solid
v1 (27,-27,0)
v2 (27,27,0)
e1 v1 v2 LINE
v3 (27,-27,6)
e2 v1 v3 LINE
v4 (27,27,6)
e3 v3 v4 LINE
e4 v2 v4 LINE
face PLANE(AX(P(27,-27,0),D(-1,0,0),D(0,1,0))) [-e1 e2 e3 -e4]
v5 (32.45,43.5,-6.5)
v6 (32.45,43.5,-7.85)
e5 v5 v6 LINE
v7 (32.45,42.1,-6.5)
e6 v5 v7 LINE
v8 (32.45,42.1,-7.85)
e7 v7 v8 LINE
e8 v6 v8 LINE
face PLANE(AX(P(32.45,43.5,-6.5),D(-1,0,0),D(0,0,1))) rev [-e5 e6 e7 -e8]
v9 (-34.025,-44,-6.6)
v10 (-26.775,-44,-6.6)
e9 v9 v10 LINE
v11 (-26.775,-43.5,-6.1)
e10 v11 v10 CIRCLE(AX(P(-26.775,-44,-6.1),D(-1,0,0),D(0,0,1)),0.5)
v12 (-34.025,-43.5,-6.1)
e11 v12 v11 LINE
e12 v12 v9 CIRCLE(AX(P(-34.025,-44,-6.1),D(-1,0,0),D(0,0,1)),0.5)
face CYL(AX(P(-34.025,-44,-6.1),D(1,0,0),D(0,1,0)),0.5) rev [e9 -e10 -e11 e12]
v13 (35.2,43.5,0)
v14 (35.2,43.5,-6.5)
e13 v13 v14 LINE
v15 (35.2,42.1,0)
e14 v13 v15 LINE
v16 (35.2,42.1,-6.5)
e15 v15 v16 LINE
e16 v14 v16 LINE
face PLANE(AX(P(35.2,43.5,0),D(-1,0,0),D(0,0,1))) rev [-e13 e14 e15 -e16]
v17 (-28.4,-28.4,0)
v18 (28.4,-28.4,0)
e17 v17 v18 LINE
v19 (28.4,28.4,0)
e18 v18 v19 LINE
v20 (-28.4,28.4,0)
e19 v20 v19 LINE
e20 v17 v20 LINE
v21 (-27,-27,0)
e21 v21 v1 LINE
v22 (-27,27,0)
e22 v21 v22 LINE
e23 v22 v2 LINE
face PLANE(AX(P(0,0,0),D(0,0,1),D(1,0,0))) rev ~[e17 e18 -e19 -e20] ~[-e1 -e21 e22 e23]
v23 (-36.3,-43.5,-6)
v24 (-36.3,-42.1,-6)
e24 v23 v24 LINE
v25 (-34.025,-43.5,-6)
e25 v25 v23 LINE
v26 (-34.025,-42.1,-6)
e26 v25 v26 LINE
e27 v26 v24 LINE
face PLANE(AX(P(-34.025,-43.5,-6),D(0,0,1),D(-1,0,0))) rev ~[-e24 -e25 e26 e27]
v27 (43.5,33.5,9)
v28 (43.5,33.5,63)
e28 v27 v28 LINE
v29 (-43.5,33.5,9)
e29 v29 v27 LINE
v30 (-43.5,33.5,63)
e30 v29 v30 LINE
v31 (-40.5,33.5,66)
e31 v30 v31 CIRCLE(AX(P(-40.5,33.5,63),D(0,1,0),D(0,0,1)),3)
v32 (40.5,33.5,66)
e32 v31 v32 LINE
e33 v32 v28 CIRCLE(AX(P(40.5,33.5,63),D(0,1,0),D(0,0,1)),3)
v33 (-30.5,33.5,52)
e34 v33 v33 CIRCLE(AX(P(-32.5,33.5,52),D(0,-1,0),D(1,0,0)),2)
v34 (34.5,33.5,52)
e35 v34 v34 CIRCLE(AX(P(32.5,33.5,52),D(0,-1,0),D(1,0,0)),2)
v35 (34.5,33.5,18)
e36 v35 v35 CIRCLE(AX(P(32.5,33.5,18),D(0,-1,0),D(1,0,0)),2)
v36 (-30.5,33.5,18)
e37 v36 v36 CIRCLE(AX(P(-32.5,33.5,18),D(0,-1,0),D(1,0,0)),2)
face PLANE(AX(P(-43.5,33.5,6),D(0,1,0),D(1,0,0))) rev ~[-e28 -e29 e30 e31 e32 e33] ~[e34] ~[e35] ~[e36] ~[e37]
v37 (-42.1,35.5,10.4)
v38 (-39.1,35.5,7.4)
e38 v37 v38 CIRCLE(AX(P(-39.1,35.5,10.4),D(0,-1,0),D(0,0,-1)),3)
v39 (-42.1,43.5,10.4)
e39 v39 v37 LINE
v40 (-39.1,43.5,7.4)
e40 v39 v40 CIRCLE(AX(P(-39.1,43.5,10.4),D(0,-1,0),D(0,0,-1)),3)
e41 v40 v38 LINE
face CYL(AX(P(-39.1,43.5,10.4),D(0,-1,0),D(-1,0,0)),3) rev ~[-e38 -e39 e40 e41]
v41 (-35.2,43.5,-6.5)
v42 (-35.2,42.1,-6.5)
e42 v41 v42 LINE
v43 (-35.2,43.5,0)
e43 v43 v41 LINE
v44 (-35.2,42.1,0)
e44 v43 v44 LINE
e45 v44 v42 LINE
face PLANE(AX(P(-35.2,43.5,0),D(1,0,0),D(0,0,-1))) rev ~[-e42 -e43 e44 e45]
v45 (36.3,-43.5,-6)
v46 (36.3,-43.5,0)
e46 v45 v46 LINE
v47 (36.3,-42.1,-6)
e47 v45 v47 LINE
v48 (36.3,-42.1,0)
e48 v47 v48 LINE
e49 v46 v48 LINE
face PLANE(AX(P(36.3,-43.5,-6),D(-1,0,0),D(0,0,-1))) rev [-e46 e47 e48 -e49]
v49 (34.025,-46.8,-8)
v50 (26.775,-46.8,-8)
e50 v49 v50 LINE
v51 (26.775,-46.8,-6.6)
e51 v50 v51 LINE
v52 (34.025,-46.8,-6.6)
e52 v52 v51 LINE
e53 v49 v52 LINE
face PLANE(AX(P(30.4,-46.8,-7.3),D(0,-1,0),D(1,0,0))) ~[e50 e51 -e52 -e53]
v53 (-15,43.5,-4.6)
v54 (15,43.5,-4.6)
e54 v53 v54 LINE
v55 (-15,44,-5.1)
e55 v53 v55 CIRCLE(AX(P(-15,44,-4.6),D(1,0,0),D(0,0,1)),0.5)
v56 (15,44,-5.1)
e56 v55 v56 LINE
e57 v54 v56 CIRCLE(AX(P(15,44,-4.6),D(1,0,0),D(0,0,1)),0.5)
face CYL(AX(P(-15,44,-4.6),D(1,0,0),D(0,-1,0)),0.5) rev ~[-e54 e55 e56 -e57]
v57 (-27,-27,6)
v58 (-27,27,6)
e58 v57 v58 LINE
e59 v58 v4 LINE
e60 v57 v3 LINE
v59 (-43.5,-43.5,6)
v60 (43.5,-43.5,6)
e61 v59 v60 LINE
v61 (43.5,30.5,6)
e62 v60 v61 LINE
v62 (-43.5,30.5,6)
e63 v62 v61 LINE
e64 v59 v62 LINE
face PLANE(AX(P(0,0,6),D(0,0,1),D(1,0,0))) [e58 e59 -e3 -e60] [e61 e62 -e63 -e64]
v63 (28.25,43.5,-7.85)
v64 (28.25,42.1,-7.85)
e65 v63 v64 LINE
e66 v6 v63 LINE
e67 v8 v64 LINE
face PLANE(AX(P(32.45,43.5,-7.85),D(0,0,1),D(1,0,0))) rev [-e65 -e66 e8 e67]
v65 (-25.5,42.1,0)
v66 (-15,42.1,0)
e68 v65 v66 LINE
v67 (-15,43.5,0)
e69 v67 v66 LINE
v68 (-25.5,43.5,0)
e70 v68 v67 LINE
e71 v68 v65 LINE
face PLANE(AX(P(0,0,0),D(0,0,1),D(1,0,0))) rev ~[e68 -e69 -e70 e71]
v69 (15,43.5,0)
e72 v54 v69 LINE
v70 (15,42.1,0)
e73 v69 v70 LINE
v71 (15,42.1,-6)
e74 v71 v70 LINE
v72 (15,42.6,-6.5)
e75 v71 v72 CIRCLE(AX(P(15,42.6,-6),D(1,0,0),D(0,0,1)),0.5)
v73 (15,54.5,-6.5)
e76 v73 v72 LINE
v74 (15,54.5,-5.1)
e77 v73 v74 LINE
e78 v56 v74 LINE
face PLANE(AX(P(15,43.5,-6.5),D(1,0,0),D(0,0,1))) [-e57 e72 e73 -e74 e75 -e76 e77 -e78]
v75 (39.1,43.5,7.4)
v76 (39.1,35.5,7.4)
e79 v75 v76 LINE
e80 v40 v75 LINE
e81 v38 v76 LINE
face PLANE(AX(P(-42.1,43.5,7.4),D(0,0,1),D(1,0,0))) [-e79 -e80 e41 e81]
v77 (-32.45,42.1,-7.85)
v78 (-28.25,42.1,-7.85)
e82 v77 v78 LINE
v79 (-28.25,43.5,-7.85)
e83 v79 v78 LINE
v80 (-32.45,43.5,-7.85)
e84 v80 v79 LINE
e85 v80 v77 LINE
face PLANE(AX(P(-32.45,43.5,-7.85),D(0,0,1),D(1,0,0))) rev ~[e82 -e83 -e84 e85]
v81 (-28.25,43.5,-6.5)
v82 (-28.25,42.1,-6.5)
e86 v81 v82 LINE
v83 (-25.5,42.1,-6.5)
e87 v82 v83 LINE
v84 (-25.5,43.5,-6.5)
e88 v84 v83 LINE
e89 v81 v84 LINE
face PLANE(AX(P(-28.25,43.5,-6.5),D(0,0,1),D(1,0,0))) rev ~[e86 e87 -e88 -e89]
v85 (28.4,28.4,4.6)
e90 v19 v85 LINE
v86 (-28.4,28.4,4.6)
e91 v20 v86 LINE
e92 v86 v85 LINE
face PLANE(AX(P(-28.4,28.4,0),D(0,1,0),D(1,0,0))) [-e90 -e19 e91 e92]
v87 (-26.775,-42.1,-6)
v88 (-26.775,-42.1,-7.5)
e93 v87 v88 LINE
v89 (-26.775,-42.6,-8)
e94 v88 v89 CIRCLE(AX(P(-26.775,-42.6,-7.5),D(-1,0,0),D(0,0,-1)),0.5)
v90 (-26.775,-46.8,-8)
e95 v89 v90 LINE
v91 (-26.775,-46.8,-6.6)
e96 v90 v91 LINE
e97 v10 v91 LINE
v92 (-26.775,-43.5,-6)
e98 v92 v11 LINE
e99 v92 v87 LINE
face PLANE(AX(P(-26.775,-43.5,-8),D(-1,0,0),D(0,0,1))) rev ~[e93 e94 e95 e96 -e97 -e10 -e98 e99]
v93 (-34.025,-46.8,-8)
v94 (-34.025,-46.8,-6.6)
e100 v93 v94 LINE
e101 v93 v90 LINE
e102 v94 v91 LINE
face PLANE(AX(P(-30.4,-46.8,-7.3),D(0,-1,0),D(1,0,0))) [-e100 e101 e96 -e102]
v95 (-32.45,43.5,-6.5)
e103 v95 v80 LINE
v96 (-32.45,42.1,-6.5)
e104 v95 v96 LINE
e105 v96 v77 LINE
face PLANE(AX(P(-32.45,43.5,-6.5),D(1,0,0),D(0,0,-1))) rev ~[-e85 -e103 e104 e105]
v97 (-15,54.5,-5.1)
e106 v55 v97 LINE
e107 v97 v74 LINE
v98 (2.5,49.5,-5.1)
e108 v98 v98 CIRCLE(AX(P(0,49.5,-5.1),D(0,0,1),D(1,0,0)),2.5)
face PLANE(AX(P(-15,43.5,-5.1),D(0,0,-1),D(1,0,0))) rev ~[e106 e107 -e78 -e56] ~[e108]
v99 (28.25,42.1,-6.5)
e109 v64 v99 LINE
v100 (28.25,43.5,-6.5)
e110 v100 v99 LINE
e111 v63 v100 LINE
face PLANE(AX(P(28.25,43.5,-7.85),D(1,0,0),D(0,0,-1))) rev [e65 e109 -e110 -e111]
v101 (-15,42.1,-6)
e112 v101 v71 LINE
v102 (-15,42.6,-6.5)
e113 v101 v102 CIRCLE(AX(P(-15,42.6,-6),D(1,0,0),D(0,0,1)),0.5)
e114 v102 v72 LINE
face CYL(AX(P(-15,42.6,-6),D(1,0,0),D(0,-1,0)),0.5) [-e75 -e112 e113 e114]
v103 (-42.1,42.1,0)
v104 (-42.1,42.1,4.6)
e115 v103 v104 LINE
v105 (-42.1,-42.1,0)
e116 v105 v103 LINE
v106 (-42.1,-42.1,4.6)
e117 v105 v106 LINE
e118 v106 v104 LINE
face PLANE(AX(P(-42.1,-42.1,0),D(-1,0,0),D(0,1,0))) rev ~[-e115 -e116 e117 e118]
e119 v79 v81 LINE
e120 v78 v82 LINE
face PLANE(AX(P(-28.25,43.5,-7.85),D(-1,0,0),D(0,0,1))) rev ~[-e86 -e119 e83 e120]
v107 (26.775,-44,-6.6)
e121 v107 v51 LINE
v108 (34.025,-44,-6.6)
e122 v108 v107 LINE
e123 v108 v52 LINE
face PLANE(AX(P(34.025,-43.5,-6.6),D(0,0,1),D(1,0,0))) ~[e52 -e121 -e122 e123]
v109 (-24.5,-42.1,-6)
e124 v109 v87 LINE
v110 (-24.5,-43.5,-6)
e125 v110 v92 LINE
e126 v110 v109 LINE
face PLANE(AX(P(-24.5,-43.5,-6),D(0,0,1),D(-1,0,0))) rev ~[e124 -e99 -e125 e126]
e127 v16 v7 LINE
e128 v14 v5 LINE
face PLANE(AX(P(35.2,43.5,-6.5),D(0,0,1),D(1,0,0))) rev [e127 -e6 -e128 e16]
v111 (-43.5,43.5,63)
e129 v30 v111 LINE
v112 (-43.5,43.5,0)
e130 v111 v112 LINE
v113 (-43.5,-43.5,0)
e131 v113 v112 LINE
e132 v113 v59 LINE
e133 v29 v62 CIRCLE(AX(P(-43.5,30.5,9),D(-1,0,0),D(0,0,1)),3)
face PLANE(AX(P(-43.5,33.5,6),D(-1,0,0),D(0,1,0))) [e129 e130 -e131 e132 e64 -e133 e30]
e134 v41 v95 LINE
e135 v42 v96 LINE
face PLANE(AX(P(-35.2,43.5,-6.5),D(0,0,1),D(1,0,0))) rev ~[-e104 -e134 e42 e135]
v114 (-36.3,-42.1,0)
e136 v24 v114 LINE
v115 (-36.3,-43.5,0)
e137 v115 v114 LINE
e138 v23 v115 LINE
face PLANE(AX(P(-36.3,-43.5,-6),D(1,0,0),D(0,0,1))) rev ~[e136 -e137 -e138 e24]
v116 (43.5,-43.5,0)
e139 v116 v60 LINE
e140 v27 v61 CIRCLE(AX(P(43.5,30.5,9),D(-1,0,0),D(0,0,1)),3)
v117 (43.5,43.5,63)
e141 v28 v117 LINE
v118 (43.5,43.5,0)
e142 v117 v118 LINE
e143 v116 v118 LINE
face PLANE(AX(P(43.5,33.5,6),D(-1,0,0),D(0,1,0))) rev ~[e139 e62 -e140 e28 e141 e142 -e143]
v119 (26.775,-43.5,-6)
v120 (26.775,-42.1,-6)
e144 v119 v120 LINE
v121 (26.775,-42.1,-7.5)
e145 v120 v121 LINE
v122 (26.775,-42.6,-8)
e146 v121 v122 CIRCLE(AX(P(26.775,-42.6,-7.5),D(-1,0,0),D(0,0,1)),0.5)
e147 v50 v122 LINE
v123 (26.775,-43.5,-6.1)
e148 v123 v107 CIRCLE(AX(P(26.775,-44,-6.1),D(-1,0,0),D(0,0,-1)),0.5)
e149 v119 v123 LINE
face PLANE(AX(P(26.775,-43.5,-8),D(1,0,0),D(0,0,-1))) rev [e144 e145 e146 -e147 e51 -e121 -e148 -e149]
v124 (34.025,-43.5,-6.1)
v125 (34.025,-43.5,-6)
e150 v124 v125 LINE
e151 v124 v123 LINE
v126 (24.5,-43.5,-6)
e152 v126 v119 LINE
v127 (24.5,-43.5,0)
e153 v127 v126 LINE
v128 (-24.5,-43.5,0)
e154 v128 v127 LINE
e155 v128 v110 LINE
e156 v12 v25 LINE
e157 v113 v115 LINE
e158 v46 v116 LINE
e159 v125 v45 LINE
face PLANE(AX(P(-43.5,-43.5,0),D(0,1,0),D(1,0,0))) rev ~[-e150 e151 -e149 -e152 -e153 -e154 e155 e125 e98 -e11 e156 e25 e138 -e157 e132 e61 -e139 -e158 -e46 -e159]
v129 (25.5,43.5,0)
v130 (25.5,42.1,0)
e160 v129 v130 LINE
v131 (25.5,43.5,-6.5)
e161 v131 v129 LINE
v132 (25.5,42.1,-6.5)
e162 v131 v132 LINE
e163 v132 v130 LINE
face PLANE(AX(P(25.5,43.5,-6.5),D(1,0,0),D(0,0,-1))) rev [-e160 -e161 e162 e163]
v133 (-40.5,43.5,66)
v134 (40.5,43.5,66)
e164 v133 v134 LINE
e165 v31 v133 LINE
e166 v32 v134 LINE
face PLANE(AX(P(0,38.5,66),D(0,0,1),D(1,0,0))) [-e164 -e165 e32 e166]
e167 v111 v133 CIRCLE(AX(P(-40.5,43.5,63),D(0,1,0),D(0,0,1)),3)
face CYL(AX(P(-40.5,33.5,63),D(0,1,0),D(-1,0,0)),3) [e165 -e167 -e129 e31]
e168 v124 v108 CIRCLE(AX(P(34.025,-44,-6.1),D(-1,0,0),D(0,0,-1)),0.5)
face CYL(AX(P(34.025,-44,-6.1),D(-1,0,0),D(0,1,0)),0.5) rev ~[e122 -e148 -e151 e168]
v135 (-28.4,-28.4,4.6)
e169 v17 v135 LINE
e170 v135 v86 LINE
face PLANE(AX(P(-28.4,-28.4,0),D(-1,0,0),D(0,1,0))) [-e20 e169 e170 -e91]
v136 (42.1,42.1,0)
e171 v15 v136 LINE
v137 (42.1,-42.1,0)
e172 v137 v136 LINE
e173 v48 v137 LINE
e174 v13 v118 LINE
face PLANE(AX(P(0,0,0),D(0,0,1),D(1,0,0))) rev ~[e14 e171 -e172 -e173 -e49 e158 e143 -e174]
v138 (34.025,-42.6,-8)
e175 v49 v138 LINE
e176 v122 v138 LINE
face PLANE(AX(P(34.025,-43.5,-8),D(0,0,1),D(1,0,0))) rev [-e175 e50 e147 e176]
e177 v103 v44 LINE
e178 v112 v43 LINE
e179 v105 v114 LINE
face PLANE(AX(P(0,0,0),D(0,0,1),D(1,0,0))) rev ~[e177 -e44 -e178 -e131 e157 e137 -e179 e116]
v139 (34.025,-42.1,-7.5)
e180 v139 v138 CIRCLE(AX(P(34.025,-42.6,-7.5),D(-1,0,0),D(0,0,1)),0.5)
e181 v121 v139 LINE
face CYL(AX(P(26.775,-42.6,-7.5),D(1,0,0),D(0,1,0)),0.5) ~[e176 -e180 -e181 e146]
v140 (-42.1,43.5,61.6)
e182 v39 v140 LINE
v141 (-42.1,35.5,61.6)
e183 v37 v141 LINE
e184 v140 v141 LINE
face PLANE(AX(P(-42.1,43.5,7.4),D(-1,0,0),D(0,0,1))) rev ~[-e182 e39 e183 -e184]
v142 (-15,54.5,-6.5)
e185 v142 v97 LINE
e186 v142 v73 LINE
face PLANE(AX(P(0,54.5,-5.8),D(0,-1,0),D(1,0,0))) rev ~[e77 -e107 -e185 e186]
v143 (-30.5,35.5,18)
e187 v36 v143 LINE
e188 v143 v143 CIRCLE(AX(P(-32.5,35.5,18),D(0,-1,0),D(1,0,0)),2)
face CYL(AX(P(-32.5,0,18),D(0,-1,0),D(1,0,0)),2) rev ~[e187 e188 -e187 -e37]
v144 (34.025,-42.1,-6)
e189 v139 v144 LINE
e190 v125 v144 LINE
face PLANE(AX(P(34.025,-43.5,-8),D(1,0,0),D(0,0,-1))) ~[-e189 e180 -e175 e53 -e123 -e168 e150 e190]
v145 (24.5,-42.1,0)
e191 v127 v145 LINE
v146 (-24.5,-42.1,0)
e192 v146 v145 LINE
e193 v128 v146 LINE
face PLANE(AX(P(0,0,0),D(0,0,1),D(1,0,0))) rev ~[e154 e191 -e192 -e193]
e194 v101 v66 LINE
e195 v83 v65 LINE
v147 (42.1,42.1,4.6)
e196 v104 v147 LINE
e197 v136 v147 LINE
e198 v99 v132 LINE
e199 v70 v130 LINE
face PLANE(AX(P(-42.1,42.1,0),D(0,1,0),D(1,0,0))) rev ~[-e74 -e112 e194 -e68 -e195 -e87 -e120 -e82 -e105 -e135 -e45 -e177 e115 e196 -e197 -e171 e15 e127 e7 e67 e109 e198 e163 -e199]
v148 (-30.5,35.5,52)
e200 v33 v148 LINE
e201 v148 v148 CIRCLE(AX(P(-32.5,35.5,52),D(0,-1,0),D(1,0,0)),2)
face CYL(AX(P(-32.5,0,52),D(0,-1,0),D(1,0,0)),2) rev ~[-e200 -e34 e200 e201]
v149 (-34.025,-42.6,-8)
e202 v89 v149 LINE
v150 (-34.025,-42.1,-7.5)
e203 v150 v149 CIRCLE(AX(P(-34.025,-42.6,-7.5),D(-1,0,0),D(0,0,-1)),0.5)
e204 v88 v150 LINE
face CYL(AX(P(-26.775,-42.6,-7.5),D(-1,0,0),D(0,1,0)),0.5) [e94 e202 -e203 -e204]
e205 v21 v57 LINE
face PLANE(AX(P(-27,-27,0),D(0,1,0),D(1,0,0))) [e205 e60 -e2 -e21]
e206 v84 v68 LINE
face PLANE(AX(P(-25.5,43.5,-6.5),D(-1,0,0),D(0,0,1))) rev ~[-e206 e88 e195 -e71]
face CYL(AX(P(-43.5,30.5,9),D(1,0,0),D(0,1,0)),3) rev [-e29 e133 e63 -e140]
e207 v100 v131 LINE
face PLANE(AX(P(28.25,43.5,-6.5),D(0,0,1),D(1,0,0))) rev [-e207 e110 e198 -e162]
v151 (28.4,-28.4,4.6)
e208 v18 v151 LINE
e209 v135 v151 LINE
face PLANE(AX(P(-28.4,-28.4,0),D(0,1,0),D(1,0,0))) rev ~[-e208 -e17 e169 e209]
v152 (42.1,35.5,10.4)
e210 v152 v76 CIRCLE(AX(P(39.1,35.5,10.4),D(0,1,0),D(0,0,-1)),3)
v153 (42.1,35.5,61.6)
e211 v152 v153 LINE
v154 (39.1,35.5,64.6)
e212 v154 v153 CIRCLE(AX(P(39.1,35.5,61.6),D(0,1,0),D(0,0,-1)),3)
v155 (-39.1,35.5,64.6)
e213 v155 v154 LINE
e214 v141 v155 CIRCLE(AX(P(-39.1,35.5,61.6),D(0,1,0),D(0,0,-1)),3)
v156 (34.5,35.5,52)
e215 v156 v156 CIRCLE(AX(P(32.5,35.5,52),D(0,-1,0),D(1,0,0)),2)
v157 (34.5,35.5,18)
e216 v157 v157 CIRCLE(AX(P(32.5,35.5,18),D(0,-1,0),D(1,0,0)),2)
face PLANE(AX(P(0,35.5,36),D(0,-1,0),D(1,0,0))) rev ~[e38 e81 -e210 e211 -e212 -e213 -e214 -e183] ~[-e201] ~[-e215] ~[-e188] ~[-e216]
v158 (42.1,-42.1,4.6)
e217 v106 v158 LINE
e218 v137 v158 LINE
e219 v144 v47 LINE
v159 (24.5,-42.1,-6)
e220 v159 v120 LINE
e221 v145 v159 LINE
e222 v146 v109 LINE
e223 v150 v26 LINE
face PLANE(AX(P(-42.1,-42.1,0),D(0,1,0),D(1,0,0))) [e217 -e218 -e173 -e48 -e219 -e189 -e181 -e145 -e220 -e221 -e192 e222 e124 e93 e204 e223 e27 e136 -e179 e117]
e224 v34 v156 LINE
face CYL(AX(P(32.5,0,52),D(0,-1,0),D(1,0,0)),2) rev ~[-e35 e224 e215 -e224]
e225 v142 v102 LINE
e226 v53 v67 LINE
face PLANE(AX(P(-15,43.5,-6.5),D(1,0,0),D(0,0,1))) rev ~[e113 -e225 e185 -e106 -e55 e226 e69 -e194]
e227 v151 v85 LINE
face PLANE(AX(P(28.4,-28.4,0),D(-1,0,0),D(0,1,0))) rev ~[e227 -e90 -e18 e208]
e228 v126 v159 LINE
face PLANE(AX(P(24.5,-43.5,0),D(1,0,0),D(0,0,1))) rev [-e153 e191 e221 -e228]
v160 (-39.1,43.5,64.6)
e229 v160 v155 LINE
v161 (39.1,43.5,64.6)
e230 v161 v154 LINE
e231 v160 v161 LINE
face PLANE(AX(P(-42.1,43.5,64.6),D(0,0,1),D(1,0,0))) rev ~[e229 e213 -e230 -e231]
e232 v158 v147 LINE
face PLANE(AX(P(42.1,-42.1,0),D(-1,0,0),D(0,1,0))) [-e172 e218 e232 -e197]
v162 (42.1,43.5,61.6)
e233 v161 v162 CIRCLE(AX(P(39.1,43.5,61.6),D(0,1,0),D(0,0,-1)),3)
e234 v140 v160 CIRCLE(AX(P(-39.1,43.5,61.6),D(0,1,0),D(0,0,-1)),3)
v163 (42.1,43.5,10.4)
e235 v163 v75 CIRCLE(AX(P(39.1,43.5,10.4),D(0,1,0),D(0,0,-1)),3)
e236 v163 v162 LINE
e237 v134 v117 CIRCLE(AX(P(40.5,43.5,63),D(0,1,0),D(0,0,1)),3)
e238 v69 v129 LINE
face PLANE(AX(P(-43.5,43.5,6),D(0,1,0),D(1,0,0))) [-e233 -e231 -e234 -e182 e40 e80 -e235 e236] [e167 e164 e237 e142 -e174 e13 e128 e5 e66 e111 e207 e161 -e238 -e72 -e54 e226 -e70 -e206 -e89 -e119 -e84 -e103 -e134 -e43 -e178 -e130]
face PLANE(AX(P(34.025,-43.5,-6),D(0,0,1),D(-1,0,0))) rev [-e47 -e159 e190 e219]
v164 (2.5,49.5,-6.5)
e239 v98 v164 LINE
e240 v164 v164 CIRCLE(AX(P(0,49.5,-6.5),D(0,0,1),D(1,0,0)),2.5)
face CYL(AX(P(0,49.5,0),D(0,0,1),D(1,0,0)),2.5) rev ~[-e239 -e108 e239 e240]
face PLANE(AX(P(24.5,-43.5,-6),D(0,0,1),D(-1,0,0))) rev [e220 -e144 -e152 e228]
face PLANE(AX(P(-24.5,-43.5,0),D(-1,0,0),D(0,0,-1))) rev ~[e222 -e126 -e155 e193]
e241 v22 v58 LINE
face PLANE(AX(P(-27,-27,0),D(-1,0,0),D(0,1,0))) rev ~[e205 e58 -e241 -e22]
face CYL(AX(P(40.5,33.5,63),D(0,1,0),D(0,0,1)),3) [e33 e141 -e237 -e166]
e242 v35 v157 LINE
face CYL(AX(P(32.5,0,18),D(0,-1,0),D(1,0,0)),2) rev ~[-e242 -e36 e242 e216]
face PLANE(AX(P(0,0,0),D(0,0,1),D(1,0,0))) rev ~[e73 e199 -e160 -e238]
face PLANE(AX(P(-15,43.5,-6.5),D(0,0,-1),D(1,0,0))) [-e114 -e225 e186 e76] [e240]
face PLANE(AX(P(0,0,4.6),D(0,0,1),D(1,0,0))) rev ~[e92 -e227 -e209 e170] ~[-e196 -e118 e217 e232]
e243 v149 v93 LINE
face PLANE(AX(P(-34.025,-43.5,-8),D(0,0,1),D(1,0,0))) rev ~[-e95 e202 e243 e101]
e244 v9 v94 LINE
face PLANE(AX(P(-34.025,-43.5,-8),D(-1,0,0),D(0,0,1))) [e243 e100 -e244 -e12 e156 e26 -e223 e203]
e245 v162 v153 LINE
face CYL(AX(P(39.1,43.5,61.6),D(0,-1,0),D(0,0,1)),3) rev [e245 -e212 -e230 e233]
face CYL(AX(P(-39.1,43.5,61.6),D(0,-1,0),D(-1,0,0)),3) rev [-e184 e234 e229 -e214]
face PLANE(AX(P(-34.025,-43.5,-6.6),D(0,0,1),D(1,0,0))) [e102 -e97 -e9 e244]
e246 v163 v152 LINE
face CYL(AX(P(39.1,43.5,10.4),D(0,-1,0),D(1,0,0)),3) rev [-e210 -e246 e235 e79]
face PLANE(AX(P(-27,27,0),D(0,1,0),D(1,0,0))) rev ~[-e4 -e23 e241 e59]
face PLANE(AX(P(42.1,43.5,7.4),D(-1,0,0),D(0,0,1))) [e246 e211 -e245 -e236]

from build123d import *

# Parameters (mm, degrees)
SKETCH_W        = 87
SKETCH_H        = 87
SKETCH_W_2      = 54
SKETCH_H_2      = 54
PAD_DEPTH       = 6
SKETCH001_W     = 84.2
SKETCH001_H     = 84.2
SKETCH001_W_2   = 56.8
SKETCH001_H_2   = 56.8
POCKET_DEPTH    = 4.6
PAD001_DEPTH    = 1.4
SKETCH003_W     = 7.25
SKETCH003_H     = 1.4
PAD002_DEPTH    = 3.3
PAD006_DEPTH    = 1.4
SKETCH004_W     = 30
SKETCH004_H     = 6.5
PAD003_DEPTH    = 1.4
SKETCH005_W     = 30
SKETCH005_H     = 1.4
PAD004_DEPTH    = 11
SKETCH008_R     = 2.5
HOLE001_DEPTH   = 8.001
SKETCH006_W     = 87
SKETCH006_H     = 10
PAD005_DEPTH    = 60
SKETCH007_R     = 2
HOLE_DEPTH      = 54.501
SKETCH009_W     = 84.2
SKETCH009_H     = 57.2
POCKET001_DEPTH = 8
FILLET_R        = 3
FILLET001_R     = 0.5


with BuildPart() as part:
    # Sketch → Pad (new body)
    with BuildSketch(Plane.XY):
        Rectangle(SKETCH_W, SKETCH_H)
        Rectangle(SKETCH_W_2, SKETCH_H_2, mode=Mode.SUBTRACT)
    extrude(amount=PAD_DEPTH)

    # Sketch001 → Pocket (cut)
    with BuildSketch(Plane.XY):
        Rectangle(SKETCH001_W, SKETCH001_H)
        Rectangle(SKETCH001_W_2, SKETCH001_H_2, mode=Mode.SUBTRACT)
    extrude(amount=POCKET_DEPTH, mode=Mode.SUBTRACT)

    # Sketch002 (on DatumPlane) → Pad001 (join)
    with BuildSketch(Plane.XZ.offset(43.5)):
        Polygon((-36.3, 0), (-24.5, 0), (-24.5, -6), (-26.775, -6), (-26.775, -8), (-34.025, -8), (-34.025, -6), (-36.3, -6), align=None)
    pad001 = extrude(amount=-PAD001_DEPTH)

    # Sketch003 (on DatumPlane) → Pad002 (join)
    with BuildSketch(Plane.XZ.offset(43.5)):
        with Locations((-30.4, -7.3)):
            Rectangle(SKETCH003_W, SKETCH003_H)
    pad002 = extrude(amount=PAD002_DEPTH)

    # Sketch010 (on DatumPlane) → Pad006 (join)
    with BuildSketch(Plane.XZ.offset(-43.5)):
        Polygon((-25.5, 0), (-35.2, 0), (-35.2, -6.5), (-32.45, -6.5), (-32.45, -7.85), (-28.25, -7.85), (-28.25, -6.5), (-25.5, -6.5), align=None)
    pad006 = extrude(amount=PAD006_DEPTH)

    # Mirrored002: Pad001, Pad002, Pad006 across Sketch003 V_Axis
    add(pad001.mirror(Plane(origin=(0, -43.5, 0), x_dir=(0, -1, 0), z_dir=(1, 0, 0))))
    add(pad002.mirror(Plane(origin=(0, -43.5, 0), x_dir=(0, -1, 0), z_dir=(1, 0, 0))))
    add(pad006.mirror(Plane(origin=(0, -43.5, 0), x_dir=(0, -1, 0), z_dir=(1, 0, 0))))

    # Sketch004 (on DatumPlane) → Pad003 (join)
    with BuildSketch(Plane.XZ.offset(-43.5)):
        with Locations((0, -3.25)):
            Rectangle(SKETCH004_W, SKETCH004_H)
    extrude(amount=PAD003_DEPTH)

    # Sketch005 (on DatumPlane) → Pad004 (join)
    with BuildSketch(Plane.XZ.offset(-43.5)):
        with Locations((0, -5.8)):
            Rectangle(SKETCH005_W, SKETCH005_H)
    extrude(amount=-PAD004_DEPTH)

    # Sketch008 → Hole001 (cut, through all)
    with BuildSketch(Plane.XY):
        with Locations((0, 49.5)):
            Circle(SKETCH008_R)
    extrude(amount=-HOLE001_DEPTH, mode=Mode.SUBTRACT)

    # Sketch006 (on DatumPlane) → Pad005 (join)
    with BuildSketch(Plane.XY.offset(6)):
        with Locations((0, 38.5)):
            Rectangle(SKETCH006_W, SKETCH006_H)
    extrude(amount=PAD005_DEPTH)

    # Sketch007 → Hole (cut, through all)
    with BuildSketch(Plane.XZ):
        with Locations((-32.5, 52)):
            Circle(SKETCH007_R)
        with Locations((32.5, 52)):
            Circle(SKETCH007_R)
        with Locations((-32.5, 18)):
            Circle(SKETCH007_R)
        with Locations((32.5, 18)):
            Circle(SKETCH007_R)
    extrude(amount=-HOLE_DEPTH, mode=Mode.SUBTRACT)

    # Sketch009 (on DatumPlane) → Pocket001 (cut)
    with BuildSketch(Plane.XZ.offset(-43.5)):
        with Locations((0, 36)):
            Rectangle(SKETCH009_W, SKETCH009_H)
    extrude(amount=POCKET001_DEPTH, mode=Mode.SUBTRACT)

    # Fillet
    fillet_edges = [part.edges().sort_by_distance(p)[0] for p in [
        (43.5, 38.5, 66),
        (-43.5, 38.5, 66),
        (-42.1, 39.5, 64.6),
        (42.1, 39.5, 64.6),
        (42.1, 39.5, 7.4),
        (-42.1, 39.5, 7.4),
        (0, 33.5, 6),
    ]]
    fillet(fillet_edges, radius=FILLET_R)

    # Fillet001
    fillet001_edges = [part.edges().sort_by_distance(p)[0] for p in [
        (0, 43.5, -5.1),
        (0, 42.1, -6.5),
        (30.4, -43.5, -6.6),
        (-30.4, -43.5, -6.6),
        (-30.4, -42.1, -8),
        (30.4, -42.1, -8),
    ]]
    fillet(fillet001_edges, radius=FILLET001_R)


solid = part.part
